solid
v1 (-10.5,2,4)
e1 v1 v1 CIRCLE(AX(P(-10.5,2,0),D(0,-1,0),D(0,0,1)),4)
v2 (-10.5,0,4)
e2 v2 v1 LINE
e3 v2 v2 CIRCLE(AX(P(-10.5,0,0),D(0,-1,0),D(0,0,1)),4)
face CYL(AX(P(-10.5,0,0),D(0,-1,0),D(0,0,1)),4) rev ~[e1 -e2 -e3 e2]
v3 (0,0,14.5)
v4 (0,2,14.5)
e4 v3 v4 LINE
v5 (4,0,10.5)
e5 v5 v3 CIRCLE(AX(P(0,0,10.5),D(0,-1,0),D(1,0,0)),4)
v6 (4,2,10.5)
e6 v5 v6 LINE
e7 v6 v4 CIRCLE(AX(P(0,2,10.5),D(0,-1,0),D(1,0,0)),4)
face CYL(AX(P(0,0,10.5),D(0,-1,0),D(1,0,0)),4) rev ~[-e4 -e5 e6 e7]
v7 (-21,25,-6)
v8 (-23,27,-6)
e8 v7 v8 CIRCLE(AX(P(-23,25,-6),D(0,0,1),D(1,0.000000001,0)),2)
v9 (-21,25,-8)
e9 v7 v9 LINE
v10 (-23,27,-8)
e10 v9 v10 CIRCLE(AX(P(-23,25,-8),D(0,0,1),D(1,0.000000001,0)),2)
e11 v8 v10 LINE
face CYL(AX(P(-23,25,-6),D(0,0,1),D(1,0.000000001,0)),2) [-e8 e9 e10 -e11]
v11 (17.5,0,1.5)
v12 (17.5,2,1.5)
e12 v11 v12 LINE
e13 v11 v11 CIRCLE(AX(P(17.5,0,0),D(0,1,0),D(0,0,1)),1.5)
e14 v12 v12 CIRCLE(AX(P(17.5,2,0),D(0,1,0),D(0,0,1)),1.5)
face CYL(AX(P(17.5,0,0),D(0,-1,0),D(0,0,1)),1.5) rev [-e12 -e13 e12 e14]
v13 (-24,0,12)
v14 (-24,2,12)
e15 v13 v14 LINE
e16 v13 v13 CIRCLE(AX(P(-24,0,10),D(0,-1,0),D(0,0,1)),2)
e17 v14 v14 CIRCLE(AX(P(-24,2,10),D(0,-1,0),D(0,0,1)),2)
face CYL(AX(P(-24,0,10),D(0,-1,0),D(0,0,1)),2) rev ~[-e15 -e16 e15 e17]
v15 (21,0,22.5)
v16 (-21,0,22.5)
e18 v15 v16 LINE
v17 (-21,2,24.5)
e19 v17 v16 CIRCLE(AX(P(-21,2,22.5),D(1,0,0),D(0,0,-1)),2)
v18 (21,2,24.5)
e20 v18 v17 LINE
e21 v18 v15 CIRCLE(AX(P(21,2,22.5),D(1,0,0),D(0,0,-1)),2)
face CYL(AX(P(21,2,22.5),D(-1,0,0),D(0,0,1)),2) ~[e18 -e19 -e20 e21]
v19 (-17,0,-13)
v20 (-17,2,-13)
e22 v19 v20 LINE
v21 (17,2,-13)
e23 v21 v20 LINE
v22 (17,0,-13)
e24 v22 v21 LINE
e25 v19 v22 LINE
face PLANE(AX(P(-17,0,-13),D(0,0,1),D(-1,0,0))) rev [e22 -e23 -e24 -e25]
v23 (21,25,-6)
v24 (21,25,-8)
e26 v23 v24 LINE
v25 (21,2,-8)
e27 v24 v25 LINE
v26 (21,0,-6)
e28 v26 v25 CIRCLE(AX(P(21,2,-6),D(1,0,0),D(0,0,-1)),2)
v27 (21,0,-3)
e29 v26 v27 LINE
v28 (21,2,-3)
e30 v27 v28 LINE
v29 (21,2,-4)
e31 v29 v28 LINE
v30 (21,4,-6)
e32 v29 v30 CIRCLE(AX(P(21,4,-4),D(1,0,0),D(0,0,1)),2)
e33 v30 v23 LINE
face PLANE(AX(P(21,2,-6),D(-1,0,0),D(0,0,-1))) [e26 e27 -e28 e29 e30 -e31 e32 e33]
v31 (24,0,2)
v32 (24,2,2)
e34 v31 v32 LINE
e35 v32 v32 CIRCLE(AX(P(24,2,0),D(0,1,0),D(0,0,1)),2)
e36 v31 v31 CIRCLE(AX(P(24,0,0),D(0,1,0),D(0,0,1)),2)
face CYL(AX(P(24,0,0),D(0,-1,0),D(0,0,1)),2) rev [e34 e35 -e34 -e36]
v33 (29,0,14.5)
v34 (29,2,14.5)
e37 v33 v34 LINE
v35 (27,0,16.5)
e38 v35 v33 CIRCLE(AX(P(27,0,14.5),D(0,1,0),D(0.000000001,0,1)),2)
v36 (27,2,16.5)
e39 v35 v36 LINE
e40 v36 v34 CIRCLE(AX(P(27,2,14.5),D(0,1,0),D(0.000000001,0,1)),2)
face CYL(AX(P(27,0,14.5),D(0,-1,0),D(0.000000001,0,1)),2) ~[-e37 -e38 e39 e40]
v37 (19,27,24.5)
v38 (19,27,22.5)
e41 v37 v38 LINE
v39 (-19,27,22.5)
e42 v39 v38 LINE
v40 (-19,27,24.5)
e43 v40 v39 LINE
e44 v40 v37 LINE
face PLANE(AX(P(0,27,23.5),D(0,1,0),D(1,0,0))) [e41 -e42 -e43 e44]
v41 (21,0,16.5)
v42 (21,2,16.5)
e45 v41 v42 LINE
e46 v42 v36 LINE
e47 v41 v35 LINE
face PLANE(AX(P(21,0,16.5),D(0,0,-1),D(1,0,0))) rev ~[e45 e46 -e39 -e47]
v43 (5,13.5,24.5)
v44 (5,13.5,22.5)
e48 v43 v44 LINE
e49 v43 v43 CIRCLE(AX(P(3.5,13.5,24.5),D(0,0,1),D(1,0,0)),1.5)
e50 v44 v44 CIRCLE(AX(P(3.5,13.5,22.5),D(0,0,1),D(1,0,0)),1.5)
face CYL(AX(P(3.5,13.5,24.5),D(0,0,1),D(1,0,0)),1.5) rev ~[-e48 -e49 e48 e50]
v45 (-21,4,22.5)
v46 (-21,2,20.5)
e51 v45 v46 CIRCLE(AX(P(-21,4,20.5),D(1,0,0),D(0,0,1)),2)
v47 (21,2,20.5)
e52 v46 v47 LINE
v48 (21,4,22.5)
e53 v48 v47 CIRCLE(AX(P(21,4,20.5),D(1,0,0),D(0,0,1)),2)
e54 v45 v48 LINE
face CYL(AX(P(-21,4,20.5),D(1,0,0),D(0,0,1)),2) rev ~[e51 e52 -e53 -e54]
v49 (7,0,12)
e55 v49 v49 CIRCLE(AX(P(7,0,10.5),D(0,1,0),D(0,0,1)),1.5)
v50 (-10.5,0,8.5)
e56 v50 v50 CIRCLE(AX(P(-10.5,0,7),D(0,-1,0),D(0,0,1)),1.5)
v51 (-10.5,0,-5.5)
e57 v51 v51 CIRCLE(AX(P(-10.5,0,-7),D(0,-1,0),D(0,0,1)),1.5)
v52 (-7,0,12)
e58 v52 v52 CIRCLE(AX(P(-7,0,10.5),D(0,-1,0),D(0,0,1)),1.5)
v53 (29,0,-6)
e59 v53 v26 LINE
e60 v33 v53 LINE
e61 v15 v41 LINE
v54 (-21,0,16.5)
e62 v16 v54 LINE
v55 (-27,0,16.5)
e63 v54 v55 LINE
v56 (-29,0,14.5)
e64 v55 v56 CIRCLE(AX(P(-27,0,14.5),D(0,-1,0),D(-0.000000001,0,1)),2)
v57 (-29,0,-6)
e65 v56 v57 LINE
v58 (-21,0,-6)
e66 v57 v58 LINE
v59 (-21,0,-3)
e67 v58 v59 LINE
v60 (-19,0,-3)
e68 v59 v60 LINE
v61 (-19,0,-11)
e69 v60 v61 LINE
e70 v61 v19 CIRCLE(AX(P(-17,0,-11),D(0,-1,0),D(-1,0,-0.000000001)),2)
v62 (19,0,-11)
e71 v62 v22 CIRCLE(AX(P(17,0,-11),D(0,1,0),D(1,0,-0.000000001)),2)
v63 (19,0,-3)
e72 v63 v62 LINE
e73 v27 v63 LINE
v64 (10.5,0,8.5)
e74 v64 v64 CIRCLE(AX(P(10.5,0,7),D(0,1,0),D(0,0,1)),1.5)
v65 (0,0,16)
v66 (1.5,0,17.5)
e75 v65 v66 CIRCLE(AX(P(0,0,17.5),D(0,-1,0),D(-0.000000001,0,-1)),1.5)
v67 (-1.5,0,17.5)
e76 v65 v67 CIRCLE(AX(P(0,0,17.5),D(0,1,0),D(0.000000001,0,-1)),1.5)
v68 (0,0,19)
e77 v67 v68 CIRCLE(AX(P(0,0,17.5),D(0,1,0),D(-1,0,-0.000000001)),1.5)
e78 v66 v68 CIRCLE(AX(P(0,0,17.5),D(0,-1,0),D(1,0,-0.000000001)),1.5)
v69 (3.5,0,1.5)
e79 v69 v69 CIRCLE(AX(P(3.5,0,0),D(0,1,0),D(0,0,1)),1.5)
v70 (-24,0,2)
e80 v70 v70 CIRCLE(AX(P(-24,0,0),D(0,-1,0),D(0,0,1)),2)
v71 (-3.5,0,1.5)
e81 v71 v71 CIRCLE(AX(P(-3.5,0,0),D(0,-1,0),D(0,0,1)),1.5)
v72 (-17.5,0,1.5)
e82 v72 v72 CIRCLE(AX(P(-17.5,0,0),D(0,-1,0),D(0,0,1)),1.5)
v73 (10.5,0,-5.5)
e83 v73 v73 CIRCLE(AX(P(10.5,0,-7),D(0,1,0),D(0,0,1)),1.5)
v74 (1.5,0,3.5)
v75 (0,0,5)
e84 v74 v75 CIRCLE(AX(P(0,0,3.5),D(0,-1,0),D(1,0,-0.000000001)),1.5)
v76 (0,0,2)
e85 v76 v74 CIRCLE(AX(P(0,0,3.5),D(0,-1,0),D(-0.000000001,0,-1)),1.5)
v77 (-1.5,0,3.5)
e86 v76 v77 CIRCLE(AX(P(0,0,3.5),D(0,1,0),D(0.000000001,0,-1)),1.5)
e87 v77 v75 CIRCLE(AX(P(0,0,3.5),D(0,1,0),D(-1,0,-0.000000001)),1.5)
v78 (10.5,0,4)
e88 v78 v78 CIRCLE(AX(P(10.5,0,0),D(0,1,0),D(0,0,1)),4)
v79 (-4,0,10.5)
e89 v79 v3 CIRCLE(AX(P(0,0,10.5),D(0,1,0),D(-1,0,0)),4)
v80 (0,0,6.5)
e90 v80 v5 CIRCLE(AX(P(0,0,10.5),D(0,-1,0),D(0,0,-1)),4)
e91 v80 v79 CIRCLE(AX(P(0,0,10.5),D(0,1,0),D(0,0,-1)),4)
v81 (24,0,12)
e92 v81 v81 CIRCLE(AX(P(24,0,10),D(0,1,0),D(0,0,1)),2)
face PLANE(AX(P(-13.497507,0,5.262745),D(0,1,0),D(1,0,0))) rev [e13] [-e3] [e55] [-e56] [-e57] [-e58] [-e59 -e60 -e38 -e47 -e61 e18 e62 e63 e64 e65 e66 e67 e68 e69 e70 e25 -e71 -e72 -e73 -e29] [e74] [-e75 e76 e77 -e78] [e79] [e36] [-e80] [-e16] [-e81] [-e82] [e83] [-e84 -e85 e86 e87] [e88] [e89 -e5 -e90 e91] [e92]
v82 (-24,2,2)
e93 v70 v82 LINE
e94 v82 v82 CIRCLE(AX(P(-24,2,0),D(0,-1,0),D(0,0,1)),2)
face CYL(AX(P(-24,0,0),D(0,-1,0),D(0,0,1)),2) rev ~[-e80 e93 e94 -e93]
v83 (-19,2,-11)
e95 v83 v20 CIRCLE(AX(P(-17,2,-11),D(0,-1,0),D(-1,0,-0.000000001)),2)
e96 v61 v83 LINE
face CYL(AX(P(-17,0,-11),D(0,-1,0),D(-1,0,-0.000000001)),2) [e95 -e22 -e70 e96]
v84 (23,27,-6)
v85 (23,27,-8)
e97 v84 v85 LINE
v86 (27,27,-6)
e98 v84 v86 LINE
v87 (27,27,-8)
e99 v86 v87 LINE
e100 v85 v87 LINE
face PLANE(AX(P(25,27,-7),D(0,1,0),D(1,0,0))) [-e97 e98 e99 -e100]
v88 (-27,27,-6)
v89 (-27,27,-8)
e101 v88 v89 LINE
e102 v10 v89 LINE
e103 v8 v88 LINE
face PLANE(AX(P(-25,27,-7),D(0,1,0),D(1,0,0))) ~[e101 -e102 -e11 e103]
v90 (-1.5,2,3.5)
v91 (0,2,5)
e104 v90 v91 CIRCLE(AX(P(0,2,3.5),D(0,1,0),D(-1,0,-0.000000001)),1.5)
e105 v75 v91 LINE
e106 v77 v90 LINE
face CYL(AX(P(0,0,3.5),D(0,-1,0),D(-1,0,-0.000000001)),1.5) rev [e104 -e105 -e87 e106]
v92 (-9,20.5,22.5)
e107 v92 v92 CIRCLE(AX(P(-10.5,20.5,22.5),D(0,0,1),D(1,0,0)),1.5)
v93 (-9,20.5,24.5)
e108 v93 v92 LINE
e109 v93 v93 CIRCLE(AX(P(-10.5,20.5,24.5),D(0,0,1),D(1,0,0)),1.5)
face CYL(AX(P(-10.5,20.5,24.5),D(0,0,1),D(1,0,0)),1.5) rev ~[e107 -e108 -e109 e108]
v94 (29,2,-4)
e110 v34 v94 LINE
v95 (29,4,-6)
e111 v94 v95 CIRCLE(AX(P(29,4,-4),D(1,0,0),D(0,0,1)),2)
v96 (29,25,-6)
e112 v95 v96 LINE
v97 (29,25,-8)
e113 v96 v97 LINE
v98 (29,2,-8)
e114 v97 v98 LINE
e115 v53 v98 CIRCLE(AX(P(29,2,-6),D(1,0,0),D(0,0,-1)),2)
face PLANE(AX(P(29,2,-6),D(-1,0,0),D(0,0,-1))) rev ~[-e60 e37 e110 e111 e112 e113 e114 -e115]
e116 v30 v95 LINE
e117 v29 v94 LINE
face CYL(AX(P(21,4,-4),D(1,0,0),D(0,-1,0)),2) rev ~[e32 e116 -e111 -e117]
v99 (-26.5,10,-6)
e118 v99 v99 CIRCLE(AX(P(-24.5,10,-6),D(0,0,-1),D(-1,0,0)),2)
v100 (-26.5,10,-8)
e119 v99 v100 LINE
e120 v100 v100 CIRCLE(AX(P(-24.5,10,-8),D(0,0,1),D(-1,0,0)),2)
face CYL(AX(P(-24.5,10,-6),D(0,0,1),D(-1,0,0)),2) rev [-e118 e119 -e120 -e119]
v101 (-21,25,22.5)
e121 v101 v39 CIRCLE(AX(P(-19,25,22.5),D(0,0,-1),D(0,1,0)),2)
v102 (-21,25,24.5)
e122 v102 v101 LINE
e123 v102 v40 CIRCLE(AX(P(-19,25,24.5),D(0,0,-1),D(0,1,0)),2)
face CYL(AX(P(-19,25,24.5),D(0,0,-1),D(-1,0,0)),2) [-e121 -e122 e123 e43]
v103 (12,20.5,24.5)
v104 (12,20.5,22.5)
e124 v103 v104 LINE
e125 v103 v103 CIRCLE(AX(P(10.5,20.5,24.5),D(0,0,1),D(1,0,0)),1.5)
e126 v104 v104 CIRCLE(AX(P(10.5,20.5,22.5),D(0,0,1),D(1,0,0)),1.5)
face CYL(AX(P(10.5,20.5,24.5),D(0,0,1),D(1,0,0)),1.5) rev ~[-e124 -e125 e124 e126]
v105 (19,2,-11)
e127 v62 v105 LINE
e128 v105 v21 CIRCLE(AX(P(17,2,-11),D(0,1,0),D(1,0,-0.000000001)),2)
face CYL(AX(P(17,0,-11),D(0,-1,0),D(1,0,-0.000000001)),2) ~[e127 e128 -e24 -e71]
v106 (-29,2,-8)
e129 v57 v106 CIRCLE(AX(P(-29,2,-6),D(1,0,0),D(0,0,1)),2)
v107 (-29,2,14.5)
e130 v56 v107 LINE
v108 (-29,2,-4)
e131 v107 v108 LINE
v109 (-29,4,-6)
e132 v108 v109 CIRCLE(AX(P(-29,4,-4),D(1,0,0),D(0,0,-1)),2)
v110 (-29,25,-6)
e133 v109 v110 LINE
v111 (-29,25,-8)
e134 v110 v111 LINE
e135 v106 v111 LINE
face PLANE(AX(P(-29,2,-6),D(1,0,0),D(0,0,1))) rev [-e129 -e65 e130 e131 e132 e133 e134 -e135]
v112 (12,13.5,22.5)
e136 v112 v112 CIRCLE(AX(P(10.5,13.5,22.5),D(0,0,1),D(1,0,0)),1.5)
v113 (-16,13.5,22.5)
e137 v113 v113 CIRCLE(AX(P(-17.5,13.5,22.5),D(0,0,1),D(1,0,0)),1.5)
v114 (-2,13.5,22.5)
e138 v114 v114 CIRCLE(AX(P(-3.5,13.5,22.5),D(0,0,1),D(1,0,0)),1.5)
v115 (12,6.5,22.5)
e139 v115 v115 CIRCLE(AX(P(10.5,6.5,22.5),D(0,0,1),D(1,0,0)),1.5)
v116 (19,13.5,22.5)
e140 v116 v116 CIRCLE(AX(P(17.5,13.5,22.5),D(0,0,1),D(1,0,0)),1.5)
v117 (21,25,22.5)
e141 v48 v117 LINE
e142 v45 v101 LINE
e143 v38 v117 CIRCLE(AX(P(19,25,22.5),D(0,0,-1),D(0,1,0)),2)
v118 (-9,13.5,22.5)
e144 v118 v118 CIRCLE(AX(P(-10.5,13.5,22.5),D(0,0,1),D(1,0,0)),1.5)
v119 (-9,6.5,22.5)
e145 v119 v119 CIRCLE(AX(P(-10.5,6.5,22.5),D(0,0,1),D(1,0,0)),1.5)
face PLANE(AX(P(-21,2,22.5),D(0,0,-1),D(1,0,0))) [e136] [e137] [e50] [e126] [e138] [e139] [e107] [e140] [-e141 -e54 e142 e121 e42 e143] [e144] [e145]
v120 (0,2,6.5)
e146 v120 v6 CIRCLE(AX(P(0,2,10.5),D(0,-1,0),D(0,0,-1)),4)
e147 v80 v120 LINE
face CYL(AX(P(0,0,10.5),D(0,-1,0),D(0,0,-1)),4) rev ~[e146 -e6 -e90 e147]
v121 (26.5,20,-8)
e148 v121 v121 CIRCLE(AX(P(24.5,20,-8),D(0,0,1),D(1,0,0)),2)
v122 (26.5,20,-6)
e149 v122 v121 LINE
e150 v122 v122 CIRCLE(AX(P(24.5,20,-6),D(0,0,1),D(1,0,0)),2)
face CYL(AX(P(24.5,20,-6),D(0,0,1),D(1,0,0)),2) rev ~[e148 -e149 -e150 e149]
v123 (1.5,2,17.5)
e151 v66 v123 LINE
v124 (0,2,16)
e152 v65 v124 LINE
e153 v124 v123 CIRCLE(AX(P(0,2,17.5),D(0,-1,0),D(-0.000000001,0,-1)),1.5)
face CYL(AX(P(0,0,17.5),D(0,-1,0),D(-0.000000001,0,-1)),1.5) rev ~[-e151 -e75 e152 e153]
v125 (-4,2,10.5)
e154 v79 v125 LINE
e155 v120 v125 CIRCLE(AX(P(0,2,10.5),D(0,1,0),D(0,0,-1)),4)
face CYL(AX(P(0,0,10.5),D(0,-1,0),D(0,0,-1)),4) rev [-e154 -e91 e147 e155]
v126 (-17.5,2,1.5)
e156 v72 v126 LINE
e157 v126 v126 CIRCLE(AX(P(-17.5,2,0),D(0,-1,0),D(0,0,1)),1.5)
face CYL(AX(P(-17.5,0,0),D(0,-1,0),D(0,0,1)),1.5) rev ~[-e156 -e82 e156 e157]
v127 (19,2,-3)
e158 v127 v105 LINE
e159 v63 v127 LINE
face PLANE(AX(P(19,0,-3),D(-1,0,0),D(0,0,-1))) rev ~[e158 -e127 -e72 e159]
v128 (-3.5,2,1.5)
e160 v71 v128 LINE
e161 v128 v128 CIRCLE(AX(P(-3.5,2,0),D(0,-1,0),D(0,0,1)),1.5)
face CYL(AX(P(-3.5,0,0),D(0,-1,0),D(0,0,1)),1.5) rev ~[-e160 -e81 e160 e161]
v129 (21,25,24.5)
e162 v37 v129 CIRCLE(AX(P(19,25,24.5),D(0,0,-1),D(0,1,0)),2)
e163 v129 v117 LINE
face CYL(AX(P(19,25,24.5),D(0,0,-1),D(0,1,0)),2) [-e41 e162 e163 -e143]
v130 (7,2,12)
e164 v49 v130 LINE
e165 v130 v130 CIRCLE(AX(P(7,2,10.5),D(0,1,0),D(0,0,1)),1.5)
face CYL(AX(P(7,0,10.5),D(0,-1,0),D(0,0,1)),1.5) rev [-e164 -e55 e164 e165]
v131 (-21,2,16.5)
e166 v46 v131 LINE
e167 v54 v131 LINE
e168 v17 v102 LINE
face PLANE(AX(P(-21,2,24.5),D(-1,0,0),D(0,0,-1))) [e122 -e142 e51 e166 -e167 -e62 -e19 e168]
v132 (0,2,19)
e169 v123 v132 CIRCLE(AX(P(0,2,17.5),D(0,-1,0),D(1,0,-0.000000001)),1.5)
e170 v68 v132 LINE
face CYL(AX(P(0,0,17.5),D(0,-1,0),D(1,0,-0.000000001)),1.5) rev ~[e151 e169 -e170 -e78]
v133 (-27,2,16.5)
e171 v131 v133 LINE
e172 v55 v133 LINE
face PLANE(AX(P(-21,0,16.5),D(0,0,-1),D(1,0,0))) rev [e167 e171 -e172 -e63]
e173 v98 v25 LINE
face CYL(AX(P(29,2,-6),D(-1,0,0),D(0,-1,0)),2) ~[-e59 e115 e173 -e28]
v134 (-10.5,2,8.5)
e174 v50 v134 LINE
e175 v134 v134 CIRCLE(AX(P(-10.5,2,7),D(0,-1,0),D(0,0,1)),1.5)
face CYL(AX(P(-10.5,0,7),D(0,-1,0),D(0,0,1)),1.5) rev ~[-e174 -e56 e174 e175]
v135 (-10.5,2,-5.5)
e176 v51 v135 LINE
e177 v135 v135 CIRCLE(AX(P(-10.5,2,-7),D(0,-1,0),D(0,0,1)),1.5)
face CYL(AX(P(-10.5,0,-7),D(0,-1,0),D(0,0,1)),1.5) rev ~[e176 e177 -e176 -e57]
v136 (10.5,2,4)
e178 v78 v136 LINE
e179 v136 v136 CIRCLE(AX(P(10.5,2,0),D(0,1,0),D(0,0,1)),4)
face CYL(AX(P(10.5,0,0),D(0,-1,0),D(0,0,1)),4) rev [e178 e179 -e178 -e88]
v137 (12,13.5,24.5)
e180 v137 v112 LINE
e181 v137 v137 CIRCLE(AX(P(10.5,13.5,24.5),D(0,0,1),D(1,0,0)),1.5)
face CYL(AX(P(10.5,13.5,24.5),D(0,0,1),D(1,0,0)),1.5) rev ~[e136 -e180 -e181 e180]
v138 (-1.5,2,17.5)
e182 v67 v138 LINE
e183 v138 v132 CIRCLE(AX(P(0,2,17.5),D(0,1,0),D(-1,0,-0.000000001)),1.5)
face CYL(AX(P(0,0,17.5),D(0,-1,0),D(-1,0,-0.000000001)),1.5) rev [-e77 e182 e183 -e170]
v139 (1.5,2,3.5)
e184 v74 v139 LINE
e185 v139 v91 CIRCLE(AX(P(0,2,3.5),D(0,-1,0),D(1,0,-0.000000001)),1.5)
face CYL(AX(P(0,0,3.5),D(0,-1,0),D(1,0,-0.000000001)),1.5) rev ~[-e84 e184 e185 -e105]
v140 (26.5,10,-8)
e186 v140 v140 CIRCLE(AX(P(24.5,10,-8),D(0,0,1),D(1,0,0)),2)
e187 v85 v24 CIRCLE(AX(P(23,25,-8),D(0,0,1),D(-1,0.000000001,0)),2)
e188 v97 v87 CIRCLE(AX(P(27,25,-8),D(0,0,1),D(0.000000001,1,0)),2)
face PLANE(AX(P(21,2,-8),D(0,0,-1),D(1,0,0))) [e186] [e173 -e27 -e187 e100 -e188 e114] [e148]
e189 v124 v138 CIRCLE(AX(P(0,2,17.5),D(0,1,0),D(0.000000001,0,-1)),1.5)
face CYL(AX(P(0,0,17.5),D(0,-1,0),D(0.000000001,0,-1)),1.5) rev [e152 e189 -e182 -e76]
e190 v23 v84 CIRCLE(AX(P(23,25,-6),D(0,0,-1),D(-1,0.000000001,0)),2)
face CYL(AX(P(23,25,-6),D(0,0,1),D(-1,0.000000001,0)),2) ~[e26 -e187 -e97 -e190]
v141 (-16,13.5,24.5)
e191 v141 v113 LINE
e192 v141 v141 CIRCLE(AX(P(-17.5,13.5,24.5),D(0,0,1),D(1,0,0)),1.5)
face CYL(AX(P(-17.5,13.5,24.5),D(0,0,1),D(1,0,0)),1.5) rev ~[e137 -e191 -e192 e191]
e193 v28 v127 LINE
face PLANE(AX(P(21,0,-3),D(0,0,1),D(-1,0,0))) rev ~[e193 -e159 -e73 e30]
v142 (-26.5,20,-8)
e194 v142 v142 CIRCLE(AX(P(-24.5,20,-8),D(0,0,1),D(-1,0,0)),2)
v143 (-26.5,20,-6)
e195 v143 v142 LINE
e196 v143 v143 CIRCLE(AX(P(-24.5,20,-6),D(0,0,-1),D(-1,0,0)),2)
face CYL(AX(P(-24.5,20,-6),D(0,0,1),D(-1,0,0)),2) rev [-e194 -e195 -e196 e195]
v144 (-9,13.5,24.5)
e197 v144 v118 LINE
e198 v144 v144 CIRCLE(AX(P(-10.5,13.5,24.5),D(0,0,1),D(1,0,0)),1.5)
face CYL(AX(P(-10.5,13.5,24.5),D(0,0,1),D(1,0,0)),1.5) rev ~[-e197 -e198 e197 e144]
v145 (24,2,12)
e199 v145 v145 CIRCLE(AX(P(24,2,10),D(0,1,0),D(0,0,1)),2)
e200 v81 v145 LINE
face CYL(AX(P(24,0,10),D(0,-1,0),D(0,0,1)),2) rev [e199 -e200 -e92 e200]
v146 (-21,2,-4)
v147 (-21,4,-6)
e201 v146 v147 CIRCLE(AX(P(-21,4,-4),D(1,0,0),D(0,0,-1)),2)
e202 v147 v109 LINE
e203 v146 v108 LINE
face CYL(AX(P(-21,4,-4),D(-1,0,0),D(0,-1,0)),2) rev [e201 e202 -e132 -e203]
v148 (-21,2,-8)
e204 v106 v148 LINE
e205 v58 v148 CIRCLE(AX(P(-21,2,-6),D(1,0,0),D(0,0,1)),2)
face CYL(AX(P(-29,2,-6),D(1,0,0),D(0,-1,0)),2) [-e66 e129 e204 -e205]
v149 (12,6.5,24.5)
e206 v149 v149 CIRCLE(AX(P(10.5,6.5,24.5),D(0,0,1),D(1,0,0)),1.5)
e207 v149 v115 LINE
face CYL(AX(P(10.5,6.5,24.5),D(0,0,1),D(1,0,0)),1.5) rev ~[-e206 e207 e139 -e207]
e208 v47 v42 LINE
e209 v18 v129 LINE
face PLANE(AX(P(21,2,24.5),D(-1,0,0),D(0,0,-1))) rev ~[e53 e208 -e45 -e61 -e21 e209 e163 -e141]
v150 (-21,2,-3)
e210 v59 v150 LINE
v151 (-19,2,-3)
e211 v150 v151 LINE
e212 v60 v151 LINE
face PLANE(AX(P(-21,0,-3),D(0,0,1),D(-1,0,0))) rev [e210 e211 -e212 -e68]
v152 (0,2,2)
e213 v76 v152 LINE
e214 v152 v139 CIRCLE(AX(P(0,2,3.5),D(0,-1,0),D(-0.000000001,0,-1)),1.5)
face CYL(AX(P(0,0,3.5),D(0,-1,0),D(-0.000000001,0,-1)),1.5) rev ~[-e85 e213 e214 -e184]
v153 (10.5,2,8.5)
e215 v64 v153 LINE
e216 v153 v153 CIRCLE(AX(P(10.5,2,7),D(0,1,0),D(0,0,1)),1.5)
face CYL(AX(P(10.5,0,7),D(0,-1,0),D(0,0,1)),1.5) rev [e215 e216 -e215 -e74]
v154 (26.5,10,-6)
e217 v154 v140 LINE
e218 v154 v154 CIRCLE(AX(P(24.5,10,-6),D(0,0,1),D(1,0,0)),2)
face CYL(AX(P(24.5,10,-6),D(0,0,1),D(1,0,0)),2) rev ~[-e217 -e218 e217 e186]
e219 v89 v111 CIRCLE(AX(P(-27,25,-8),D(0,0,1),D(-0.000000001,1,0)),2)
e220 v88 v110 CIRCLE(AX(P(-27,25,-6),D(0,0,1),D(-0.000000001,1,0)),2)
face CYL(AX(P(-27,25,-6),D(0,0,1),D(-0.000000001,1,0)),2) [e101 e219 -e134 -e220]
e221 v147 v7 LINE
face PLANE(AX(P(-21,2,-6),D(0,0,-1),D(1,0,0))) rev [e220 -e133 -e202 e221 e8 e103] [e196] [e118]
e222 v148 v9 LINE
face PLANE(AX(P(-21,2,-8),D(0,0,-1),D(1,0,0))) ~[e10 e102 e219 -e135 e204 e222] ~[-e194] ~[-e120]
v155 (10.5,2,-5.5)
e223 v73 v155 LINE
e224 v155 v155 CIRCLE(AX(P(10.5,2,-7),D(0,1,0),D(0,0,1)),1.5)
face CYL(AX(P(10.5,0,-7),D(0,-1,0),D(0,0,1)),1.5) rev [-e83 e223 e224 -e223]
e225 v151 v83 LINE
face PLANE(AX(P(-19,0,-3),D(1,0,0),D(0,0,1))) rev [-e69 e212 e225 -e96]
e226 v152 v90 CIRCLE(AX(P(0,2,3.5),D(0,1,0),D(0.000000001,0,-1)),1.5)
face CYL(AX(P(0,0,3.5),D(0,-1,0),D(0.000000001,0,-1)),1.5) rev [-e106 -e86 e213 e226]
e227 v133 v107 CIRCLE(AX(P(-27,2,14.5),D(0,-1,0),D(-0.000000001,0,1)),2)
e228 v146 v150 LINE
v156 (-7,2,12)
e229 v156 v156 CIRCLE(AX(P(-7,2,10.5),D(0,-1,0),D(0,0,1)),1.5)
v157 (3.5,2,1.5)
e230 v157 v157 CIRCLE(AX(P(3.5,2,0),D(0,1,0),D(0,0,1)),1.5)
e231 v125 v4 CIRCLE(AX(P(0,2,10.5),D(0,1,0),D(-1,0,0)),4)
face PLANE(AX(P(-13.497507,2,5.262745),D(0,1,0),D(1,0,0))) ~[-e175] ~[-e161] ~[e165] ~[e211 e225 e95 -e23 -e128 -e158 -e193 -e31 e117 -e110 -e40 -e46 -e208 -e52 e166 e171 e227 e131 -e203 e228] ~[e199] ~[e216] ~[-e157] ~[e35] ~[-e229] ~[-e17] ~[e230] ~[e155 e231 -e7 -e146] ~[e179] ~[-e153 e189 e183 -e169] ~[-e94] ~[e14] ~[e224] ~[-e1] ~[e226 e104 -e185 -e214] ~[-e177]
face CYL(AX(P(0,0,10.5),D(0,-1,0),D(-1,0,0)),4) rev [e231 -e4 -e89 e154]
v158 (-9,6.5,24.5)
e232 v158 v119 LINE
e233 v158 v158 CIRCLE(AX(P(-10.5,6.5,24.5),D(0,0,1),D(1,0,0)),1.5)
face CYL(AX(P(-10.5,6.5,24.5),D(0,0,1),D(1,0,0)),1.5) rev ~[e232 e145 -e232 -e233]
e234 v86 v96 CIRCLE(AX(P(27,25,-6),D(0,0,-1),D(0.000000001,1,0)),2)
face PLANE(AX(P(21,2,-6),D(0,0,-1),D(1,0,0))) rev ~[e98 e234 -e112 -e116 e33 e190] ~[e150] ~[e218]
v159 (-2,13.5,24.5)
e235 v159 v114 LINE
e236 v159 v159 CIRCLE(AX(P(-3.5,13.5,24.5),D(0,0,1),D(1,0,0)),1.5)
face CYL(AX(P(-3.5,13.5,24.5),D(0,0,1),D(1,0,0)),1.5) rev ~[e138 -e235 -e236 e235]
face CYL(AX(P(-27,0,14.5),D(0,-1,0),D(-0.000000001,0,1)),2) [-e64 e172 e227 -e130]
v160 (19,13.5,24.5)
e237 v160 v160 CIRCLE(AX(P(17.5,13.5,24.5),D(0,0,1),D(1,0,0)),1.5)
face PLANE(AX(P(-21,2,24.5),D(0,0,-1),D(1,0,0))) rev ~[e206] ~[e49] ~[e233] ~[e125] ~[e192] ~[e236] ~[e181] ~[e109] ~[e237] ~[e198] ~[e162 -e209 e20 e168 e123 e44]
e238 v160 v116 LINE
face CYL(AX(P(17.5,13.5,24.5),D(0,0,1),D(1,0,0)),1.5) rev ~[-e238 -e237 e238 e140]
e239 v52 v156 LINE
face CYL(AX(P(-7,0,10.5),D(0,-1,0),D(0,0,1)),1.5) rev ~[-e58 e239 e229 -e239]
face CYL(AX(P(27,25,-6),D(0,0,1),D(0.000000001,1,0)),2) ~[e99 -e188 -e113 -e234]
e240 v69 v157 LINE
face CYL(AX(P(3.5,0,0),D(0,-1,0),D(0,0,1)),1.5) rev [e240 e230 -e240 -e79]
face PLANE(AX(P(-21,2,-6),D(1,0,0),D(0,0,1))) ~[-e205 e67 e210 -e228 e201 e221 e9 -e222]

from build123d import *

# Parameters (mm, degrees)
SKETCH_1_R          = 1.5
SKETCH_1_R_2        = 2
SKETCH_1_R_3        = 4
EXTRUDE_1_DEPTH     = 2
SKETCH_2_W          = 8
SKETCH_2_H          = 2
EXTRUDE_2_DEPTH     = 25
SKETCH_3_R          = 2
CUT_EXTRUDE_1_DEPTH = 51.002499938
SKETCH_4_W          = 42
SKETCH_4_H          = 2
EXTRUDE_3_DEPTH     = 25
SKETCH_5_R          = 1.5
CUT_EXTRUDE_2_DEPTH = 25
FILLET_1_R          = 2
FILLET_2_R          = 2


with BuildPart() as part:
    # 草图1 → 凸台-拉伸1 (new body)
    with BuildSketch(Plane(origin=(0, 0, 0), x_dir=(1, 0, 0), z_dir=(0, 1, 0))):
        with BuildLine():
            Line((0, -19), (0, -24.5))
            Line((0, -24.5), (21, -24.5))
            Line((21, -24.5), (21, -16.5))
            Line((21, -16.5), (27, -16.5))
            ThreePointArc((27, -16.5), (28.414213562, -15.914213562), (29, -14.5))
            Line((29, -14.5), (29, 8))
            Line((29, 8), (21, 8))
            Line((21, 8), (21, 3))
            Line((21, 3), (19, 3))
            Line((19, 3), (19, 11))
            ThreePointArc((19, 11), (18.414213562, 12.414213562), (17, 13))
            Line((17, 13), (0, 13))
            Line((0, 13), (0, -2))
            ThreePointArc((0, -2), (1.060660172, -2.439339828), (1.5, -3.5))
            ThreePointArc((1.5, -3.5), (1.060660172, -4.560660172), (0, -5))
            Line((0, -5), (0, -6.5))
            ThreePointArc((0, -6.5), (2.828427125, -7.671572875), (4, -10.5))
            ThreePointArc((4, -10.5), (2.828427125, -13.328427125), (0, -14.5))
            Line((0, -14.5), (0, -16))
            ThreePointArc((0, -16), (1.060660172, -16.439339828), (1.5, -17.5))
            ThreePointArc((1.5, -17.5), (1.060660172, -18.560660172), (0, -19))
        make_face()
        with Locations(Location((7, -10.5, 0), (0, 0, 270))):
            Circle(SKETCH_1_R, mode=Mode.SUBTRACT)
        with Locations(Location((10.5, -7, 0), (0, 0, 270))):
            Circle(SKETCH_1_R, mode=Mode.SUBTRACT)
        with Locations(Location((24, -10, 0), (0, 0, 270))):
            Circle(SKETCH_1_R_2, mode=Mode.SUBTRACT)
        with Locations(Location((3.5, 0, 0), (0, 0, 270))):
            Circle(SKETCH_1_R, mode=Mode.SUBTRACT)
        with Locations(Location((10.5, 0, 0), (0, 0, 270))):
            Circle(SKETCH_1_R_3, mode=Mode.SUBTRACT)
        with Locations(Location((10.5, 7, 0), (0, 0, 270))):
            Circle(SKETCH_1_R, mode=Mode.SUBTRACT)
        with Locations(Location((17.5, 0, 0), (0, 0, 270))):
            Circle(SKETCH_1_R, mode=Mode.SUBTRACT)
        with Locations(Location((24, 0, 0), (0, 0, 270))):
            Circle(SKETCH_1_R_2, mode=Mode.SUBTRACT)
    extrude_1 = extrude(amount=EXTRUDE_1_DEPTH)

    # 草图2 → 凸台-拉伸2 (add)
    with BuildSketch(Plane(origin=(0, 2, 0), x_dir=(1, 0, 0), z_dir=(0, 1, 0))):
        with Locations((25, 7)):
            Rectangle(SKETCH_2_W, SKETCH_2_H)
    extrude_2 = extrude(amount=EXTRUDE_2_DEPTH)

    # 草图3 → 切除-拉伸1 (cut, through all)
    with BuildSketch(Plane.XY.offset(-6)):
        with Locations((24.5, 10)):
            Circle(SKETCH_3_R)
        with Locations((24.5, 20)):
            Circle(SKETCH_3_R)
        with BuildLine():
            ThreePointArc((21, 25), (21.585786438, 26.414213562), (23, 27))
            Line((23, 27), (21, 27))
            Line((21, 27), (21, 25))
        make_face()
        with BuildLine():
            Line((29, 27), (27, 27))
            ThreePointArc((27, 27), (28.414213562, 26.414213562), (29, 25))
            Line((29, 25), (29, 27))
        make_face()
    cut_extrude_1 = extrude(amount=-CUT_EXTRUDE_1_DEPTH, mode=Mode.SUBTRACT)

    # 镜向1: 凸台-拉伸1, 凸台-拉伸2, 切除-拉伸1 across plane
    add(extrude_1.mirror(Plane(origin=(0, 2, 0), x_dir=(0, 0, 1), z_dir=(1, 0, 0))))
    add(extrude_2.mirror(Plane(origin=(0, 2, 0), x_dir=(0, 0, 1), z_dir=(1, 0, 0))))
    add(cut_extrude_1.mirror(Plane(origin=(0, 2, 0), x_dir=(0, 0, 1), z_dir=(1, 0, 0))), mode=Mode.SUBTRACT)

    # 草图4 → 凸台-拉伸3 (add)
    with BuildSketch(Plane(origin=(0, 2, 0), x_dir=(1, 0, 0), z_dir=(0, 1, 0))):
        with Locations((0, -23.5)):
            Rectangle(SKETCH_4_W, SKETCH_4_H)
    extrude(amount=EXTRUDE_3_DEPTH)

    # 草图5 → 切除-拉伸2 (cut)
    with BuildSketch(Plane.XY.offset(24.5)):
        with Locations((-10.5, 13.5)):
            Circle(SKETCH_5_R)
        with Locations((10.5, 13.5)):
            Circle(SKETCH_5_R)
        with Locations((-10.5, 20.5)):
            Circle(SKETCH_5_R)
        with Locations((-3.5, 13.5)):
            Circle(SKETCH_5_R)
        with Locations((-10.5, 6.5)):
            Circle(SKETCH_5_R)
        with Locations((-17.5, 13.5)):
            Circle(SKETCH_5_R)
        with Locations((10.5, 20.5)):
            Circle(SKETCH_5_R)
        with Locations((17.5, 13.5)):
            Circle(SKETCH_5_R)
        with Locations((10.5, 6.5)):
            Circle(SKETCH_5_R)
        with Locations((3.5, 13.5)):
            Circle(SKETCH_5_R)
    extrude(amount=-CUT_EXTRUDE_2_DEPTH, mode=Mode.SUBTRACT)

    # 圆角1
    fillet_1_edges = [part.edges().sort_by_distance(p)[0] for p in [
        (-21, 27, 23.5),
        (21, 27, 23.5),
    ]]
    fillet(fillet_1_edges, radius=FILLET_1_R)

    # 圆角2
    fillet_2_edges = [part.edges().sort_by_distance(p)[0] for p in [
        (-25, 0, -8),
        (-25, 2, -6),
        (0, 2, 22.5),
        (25, 0, -8),
        (0, 0, 24.5),
        (25, 2, -6),
    ]]
    fillet(fillet_2_edges, radius=FILLET_2_R)


solid = part.part
